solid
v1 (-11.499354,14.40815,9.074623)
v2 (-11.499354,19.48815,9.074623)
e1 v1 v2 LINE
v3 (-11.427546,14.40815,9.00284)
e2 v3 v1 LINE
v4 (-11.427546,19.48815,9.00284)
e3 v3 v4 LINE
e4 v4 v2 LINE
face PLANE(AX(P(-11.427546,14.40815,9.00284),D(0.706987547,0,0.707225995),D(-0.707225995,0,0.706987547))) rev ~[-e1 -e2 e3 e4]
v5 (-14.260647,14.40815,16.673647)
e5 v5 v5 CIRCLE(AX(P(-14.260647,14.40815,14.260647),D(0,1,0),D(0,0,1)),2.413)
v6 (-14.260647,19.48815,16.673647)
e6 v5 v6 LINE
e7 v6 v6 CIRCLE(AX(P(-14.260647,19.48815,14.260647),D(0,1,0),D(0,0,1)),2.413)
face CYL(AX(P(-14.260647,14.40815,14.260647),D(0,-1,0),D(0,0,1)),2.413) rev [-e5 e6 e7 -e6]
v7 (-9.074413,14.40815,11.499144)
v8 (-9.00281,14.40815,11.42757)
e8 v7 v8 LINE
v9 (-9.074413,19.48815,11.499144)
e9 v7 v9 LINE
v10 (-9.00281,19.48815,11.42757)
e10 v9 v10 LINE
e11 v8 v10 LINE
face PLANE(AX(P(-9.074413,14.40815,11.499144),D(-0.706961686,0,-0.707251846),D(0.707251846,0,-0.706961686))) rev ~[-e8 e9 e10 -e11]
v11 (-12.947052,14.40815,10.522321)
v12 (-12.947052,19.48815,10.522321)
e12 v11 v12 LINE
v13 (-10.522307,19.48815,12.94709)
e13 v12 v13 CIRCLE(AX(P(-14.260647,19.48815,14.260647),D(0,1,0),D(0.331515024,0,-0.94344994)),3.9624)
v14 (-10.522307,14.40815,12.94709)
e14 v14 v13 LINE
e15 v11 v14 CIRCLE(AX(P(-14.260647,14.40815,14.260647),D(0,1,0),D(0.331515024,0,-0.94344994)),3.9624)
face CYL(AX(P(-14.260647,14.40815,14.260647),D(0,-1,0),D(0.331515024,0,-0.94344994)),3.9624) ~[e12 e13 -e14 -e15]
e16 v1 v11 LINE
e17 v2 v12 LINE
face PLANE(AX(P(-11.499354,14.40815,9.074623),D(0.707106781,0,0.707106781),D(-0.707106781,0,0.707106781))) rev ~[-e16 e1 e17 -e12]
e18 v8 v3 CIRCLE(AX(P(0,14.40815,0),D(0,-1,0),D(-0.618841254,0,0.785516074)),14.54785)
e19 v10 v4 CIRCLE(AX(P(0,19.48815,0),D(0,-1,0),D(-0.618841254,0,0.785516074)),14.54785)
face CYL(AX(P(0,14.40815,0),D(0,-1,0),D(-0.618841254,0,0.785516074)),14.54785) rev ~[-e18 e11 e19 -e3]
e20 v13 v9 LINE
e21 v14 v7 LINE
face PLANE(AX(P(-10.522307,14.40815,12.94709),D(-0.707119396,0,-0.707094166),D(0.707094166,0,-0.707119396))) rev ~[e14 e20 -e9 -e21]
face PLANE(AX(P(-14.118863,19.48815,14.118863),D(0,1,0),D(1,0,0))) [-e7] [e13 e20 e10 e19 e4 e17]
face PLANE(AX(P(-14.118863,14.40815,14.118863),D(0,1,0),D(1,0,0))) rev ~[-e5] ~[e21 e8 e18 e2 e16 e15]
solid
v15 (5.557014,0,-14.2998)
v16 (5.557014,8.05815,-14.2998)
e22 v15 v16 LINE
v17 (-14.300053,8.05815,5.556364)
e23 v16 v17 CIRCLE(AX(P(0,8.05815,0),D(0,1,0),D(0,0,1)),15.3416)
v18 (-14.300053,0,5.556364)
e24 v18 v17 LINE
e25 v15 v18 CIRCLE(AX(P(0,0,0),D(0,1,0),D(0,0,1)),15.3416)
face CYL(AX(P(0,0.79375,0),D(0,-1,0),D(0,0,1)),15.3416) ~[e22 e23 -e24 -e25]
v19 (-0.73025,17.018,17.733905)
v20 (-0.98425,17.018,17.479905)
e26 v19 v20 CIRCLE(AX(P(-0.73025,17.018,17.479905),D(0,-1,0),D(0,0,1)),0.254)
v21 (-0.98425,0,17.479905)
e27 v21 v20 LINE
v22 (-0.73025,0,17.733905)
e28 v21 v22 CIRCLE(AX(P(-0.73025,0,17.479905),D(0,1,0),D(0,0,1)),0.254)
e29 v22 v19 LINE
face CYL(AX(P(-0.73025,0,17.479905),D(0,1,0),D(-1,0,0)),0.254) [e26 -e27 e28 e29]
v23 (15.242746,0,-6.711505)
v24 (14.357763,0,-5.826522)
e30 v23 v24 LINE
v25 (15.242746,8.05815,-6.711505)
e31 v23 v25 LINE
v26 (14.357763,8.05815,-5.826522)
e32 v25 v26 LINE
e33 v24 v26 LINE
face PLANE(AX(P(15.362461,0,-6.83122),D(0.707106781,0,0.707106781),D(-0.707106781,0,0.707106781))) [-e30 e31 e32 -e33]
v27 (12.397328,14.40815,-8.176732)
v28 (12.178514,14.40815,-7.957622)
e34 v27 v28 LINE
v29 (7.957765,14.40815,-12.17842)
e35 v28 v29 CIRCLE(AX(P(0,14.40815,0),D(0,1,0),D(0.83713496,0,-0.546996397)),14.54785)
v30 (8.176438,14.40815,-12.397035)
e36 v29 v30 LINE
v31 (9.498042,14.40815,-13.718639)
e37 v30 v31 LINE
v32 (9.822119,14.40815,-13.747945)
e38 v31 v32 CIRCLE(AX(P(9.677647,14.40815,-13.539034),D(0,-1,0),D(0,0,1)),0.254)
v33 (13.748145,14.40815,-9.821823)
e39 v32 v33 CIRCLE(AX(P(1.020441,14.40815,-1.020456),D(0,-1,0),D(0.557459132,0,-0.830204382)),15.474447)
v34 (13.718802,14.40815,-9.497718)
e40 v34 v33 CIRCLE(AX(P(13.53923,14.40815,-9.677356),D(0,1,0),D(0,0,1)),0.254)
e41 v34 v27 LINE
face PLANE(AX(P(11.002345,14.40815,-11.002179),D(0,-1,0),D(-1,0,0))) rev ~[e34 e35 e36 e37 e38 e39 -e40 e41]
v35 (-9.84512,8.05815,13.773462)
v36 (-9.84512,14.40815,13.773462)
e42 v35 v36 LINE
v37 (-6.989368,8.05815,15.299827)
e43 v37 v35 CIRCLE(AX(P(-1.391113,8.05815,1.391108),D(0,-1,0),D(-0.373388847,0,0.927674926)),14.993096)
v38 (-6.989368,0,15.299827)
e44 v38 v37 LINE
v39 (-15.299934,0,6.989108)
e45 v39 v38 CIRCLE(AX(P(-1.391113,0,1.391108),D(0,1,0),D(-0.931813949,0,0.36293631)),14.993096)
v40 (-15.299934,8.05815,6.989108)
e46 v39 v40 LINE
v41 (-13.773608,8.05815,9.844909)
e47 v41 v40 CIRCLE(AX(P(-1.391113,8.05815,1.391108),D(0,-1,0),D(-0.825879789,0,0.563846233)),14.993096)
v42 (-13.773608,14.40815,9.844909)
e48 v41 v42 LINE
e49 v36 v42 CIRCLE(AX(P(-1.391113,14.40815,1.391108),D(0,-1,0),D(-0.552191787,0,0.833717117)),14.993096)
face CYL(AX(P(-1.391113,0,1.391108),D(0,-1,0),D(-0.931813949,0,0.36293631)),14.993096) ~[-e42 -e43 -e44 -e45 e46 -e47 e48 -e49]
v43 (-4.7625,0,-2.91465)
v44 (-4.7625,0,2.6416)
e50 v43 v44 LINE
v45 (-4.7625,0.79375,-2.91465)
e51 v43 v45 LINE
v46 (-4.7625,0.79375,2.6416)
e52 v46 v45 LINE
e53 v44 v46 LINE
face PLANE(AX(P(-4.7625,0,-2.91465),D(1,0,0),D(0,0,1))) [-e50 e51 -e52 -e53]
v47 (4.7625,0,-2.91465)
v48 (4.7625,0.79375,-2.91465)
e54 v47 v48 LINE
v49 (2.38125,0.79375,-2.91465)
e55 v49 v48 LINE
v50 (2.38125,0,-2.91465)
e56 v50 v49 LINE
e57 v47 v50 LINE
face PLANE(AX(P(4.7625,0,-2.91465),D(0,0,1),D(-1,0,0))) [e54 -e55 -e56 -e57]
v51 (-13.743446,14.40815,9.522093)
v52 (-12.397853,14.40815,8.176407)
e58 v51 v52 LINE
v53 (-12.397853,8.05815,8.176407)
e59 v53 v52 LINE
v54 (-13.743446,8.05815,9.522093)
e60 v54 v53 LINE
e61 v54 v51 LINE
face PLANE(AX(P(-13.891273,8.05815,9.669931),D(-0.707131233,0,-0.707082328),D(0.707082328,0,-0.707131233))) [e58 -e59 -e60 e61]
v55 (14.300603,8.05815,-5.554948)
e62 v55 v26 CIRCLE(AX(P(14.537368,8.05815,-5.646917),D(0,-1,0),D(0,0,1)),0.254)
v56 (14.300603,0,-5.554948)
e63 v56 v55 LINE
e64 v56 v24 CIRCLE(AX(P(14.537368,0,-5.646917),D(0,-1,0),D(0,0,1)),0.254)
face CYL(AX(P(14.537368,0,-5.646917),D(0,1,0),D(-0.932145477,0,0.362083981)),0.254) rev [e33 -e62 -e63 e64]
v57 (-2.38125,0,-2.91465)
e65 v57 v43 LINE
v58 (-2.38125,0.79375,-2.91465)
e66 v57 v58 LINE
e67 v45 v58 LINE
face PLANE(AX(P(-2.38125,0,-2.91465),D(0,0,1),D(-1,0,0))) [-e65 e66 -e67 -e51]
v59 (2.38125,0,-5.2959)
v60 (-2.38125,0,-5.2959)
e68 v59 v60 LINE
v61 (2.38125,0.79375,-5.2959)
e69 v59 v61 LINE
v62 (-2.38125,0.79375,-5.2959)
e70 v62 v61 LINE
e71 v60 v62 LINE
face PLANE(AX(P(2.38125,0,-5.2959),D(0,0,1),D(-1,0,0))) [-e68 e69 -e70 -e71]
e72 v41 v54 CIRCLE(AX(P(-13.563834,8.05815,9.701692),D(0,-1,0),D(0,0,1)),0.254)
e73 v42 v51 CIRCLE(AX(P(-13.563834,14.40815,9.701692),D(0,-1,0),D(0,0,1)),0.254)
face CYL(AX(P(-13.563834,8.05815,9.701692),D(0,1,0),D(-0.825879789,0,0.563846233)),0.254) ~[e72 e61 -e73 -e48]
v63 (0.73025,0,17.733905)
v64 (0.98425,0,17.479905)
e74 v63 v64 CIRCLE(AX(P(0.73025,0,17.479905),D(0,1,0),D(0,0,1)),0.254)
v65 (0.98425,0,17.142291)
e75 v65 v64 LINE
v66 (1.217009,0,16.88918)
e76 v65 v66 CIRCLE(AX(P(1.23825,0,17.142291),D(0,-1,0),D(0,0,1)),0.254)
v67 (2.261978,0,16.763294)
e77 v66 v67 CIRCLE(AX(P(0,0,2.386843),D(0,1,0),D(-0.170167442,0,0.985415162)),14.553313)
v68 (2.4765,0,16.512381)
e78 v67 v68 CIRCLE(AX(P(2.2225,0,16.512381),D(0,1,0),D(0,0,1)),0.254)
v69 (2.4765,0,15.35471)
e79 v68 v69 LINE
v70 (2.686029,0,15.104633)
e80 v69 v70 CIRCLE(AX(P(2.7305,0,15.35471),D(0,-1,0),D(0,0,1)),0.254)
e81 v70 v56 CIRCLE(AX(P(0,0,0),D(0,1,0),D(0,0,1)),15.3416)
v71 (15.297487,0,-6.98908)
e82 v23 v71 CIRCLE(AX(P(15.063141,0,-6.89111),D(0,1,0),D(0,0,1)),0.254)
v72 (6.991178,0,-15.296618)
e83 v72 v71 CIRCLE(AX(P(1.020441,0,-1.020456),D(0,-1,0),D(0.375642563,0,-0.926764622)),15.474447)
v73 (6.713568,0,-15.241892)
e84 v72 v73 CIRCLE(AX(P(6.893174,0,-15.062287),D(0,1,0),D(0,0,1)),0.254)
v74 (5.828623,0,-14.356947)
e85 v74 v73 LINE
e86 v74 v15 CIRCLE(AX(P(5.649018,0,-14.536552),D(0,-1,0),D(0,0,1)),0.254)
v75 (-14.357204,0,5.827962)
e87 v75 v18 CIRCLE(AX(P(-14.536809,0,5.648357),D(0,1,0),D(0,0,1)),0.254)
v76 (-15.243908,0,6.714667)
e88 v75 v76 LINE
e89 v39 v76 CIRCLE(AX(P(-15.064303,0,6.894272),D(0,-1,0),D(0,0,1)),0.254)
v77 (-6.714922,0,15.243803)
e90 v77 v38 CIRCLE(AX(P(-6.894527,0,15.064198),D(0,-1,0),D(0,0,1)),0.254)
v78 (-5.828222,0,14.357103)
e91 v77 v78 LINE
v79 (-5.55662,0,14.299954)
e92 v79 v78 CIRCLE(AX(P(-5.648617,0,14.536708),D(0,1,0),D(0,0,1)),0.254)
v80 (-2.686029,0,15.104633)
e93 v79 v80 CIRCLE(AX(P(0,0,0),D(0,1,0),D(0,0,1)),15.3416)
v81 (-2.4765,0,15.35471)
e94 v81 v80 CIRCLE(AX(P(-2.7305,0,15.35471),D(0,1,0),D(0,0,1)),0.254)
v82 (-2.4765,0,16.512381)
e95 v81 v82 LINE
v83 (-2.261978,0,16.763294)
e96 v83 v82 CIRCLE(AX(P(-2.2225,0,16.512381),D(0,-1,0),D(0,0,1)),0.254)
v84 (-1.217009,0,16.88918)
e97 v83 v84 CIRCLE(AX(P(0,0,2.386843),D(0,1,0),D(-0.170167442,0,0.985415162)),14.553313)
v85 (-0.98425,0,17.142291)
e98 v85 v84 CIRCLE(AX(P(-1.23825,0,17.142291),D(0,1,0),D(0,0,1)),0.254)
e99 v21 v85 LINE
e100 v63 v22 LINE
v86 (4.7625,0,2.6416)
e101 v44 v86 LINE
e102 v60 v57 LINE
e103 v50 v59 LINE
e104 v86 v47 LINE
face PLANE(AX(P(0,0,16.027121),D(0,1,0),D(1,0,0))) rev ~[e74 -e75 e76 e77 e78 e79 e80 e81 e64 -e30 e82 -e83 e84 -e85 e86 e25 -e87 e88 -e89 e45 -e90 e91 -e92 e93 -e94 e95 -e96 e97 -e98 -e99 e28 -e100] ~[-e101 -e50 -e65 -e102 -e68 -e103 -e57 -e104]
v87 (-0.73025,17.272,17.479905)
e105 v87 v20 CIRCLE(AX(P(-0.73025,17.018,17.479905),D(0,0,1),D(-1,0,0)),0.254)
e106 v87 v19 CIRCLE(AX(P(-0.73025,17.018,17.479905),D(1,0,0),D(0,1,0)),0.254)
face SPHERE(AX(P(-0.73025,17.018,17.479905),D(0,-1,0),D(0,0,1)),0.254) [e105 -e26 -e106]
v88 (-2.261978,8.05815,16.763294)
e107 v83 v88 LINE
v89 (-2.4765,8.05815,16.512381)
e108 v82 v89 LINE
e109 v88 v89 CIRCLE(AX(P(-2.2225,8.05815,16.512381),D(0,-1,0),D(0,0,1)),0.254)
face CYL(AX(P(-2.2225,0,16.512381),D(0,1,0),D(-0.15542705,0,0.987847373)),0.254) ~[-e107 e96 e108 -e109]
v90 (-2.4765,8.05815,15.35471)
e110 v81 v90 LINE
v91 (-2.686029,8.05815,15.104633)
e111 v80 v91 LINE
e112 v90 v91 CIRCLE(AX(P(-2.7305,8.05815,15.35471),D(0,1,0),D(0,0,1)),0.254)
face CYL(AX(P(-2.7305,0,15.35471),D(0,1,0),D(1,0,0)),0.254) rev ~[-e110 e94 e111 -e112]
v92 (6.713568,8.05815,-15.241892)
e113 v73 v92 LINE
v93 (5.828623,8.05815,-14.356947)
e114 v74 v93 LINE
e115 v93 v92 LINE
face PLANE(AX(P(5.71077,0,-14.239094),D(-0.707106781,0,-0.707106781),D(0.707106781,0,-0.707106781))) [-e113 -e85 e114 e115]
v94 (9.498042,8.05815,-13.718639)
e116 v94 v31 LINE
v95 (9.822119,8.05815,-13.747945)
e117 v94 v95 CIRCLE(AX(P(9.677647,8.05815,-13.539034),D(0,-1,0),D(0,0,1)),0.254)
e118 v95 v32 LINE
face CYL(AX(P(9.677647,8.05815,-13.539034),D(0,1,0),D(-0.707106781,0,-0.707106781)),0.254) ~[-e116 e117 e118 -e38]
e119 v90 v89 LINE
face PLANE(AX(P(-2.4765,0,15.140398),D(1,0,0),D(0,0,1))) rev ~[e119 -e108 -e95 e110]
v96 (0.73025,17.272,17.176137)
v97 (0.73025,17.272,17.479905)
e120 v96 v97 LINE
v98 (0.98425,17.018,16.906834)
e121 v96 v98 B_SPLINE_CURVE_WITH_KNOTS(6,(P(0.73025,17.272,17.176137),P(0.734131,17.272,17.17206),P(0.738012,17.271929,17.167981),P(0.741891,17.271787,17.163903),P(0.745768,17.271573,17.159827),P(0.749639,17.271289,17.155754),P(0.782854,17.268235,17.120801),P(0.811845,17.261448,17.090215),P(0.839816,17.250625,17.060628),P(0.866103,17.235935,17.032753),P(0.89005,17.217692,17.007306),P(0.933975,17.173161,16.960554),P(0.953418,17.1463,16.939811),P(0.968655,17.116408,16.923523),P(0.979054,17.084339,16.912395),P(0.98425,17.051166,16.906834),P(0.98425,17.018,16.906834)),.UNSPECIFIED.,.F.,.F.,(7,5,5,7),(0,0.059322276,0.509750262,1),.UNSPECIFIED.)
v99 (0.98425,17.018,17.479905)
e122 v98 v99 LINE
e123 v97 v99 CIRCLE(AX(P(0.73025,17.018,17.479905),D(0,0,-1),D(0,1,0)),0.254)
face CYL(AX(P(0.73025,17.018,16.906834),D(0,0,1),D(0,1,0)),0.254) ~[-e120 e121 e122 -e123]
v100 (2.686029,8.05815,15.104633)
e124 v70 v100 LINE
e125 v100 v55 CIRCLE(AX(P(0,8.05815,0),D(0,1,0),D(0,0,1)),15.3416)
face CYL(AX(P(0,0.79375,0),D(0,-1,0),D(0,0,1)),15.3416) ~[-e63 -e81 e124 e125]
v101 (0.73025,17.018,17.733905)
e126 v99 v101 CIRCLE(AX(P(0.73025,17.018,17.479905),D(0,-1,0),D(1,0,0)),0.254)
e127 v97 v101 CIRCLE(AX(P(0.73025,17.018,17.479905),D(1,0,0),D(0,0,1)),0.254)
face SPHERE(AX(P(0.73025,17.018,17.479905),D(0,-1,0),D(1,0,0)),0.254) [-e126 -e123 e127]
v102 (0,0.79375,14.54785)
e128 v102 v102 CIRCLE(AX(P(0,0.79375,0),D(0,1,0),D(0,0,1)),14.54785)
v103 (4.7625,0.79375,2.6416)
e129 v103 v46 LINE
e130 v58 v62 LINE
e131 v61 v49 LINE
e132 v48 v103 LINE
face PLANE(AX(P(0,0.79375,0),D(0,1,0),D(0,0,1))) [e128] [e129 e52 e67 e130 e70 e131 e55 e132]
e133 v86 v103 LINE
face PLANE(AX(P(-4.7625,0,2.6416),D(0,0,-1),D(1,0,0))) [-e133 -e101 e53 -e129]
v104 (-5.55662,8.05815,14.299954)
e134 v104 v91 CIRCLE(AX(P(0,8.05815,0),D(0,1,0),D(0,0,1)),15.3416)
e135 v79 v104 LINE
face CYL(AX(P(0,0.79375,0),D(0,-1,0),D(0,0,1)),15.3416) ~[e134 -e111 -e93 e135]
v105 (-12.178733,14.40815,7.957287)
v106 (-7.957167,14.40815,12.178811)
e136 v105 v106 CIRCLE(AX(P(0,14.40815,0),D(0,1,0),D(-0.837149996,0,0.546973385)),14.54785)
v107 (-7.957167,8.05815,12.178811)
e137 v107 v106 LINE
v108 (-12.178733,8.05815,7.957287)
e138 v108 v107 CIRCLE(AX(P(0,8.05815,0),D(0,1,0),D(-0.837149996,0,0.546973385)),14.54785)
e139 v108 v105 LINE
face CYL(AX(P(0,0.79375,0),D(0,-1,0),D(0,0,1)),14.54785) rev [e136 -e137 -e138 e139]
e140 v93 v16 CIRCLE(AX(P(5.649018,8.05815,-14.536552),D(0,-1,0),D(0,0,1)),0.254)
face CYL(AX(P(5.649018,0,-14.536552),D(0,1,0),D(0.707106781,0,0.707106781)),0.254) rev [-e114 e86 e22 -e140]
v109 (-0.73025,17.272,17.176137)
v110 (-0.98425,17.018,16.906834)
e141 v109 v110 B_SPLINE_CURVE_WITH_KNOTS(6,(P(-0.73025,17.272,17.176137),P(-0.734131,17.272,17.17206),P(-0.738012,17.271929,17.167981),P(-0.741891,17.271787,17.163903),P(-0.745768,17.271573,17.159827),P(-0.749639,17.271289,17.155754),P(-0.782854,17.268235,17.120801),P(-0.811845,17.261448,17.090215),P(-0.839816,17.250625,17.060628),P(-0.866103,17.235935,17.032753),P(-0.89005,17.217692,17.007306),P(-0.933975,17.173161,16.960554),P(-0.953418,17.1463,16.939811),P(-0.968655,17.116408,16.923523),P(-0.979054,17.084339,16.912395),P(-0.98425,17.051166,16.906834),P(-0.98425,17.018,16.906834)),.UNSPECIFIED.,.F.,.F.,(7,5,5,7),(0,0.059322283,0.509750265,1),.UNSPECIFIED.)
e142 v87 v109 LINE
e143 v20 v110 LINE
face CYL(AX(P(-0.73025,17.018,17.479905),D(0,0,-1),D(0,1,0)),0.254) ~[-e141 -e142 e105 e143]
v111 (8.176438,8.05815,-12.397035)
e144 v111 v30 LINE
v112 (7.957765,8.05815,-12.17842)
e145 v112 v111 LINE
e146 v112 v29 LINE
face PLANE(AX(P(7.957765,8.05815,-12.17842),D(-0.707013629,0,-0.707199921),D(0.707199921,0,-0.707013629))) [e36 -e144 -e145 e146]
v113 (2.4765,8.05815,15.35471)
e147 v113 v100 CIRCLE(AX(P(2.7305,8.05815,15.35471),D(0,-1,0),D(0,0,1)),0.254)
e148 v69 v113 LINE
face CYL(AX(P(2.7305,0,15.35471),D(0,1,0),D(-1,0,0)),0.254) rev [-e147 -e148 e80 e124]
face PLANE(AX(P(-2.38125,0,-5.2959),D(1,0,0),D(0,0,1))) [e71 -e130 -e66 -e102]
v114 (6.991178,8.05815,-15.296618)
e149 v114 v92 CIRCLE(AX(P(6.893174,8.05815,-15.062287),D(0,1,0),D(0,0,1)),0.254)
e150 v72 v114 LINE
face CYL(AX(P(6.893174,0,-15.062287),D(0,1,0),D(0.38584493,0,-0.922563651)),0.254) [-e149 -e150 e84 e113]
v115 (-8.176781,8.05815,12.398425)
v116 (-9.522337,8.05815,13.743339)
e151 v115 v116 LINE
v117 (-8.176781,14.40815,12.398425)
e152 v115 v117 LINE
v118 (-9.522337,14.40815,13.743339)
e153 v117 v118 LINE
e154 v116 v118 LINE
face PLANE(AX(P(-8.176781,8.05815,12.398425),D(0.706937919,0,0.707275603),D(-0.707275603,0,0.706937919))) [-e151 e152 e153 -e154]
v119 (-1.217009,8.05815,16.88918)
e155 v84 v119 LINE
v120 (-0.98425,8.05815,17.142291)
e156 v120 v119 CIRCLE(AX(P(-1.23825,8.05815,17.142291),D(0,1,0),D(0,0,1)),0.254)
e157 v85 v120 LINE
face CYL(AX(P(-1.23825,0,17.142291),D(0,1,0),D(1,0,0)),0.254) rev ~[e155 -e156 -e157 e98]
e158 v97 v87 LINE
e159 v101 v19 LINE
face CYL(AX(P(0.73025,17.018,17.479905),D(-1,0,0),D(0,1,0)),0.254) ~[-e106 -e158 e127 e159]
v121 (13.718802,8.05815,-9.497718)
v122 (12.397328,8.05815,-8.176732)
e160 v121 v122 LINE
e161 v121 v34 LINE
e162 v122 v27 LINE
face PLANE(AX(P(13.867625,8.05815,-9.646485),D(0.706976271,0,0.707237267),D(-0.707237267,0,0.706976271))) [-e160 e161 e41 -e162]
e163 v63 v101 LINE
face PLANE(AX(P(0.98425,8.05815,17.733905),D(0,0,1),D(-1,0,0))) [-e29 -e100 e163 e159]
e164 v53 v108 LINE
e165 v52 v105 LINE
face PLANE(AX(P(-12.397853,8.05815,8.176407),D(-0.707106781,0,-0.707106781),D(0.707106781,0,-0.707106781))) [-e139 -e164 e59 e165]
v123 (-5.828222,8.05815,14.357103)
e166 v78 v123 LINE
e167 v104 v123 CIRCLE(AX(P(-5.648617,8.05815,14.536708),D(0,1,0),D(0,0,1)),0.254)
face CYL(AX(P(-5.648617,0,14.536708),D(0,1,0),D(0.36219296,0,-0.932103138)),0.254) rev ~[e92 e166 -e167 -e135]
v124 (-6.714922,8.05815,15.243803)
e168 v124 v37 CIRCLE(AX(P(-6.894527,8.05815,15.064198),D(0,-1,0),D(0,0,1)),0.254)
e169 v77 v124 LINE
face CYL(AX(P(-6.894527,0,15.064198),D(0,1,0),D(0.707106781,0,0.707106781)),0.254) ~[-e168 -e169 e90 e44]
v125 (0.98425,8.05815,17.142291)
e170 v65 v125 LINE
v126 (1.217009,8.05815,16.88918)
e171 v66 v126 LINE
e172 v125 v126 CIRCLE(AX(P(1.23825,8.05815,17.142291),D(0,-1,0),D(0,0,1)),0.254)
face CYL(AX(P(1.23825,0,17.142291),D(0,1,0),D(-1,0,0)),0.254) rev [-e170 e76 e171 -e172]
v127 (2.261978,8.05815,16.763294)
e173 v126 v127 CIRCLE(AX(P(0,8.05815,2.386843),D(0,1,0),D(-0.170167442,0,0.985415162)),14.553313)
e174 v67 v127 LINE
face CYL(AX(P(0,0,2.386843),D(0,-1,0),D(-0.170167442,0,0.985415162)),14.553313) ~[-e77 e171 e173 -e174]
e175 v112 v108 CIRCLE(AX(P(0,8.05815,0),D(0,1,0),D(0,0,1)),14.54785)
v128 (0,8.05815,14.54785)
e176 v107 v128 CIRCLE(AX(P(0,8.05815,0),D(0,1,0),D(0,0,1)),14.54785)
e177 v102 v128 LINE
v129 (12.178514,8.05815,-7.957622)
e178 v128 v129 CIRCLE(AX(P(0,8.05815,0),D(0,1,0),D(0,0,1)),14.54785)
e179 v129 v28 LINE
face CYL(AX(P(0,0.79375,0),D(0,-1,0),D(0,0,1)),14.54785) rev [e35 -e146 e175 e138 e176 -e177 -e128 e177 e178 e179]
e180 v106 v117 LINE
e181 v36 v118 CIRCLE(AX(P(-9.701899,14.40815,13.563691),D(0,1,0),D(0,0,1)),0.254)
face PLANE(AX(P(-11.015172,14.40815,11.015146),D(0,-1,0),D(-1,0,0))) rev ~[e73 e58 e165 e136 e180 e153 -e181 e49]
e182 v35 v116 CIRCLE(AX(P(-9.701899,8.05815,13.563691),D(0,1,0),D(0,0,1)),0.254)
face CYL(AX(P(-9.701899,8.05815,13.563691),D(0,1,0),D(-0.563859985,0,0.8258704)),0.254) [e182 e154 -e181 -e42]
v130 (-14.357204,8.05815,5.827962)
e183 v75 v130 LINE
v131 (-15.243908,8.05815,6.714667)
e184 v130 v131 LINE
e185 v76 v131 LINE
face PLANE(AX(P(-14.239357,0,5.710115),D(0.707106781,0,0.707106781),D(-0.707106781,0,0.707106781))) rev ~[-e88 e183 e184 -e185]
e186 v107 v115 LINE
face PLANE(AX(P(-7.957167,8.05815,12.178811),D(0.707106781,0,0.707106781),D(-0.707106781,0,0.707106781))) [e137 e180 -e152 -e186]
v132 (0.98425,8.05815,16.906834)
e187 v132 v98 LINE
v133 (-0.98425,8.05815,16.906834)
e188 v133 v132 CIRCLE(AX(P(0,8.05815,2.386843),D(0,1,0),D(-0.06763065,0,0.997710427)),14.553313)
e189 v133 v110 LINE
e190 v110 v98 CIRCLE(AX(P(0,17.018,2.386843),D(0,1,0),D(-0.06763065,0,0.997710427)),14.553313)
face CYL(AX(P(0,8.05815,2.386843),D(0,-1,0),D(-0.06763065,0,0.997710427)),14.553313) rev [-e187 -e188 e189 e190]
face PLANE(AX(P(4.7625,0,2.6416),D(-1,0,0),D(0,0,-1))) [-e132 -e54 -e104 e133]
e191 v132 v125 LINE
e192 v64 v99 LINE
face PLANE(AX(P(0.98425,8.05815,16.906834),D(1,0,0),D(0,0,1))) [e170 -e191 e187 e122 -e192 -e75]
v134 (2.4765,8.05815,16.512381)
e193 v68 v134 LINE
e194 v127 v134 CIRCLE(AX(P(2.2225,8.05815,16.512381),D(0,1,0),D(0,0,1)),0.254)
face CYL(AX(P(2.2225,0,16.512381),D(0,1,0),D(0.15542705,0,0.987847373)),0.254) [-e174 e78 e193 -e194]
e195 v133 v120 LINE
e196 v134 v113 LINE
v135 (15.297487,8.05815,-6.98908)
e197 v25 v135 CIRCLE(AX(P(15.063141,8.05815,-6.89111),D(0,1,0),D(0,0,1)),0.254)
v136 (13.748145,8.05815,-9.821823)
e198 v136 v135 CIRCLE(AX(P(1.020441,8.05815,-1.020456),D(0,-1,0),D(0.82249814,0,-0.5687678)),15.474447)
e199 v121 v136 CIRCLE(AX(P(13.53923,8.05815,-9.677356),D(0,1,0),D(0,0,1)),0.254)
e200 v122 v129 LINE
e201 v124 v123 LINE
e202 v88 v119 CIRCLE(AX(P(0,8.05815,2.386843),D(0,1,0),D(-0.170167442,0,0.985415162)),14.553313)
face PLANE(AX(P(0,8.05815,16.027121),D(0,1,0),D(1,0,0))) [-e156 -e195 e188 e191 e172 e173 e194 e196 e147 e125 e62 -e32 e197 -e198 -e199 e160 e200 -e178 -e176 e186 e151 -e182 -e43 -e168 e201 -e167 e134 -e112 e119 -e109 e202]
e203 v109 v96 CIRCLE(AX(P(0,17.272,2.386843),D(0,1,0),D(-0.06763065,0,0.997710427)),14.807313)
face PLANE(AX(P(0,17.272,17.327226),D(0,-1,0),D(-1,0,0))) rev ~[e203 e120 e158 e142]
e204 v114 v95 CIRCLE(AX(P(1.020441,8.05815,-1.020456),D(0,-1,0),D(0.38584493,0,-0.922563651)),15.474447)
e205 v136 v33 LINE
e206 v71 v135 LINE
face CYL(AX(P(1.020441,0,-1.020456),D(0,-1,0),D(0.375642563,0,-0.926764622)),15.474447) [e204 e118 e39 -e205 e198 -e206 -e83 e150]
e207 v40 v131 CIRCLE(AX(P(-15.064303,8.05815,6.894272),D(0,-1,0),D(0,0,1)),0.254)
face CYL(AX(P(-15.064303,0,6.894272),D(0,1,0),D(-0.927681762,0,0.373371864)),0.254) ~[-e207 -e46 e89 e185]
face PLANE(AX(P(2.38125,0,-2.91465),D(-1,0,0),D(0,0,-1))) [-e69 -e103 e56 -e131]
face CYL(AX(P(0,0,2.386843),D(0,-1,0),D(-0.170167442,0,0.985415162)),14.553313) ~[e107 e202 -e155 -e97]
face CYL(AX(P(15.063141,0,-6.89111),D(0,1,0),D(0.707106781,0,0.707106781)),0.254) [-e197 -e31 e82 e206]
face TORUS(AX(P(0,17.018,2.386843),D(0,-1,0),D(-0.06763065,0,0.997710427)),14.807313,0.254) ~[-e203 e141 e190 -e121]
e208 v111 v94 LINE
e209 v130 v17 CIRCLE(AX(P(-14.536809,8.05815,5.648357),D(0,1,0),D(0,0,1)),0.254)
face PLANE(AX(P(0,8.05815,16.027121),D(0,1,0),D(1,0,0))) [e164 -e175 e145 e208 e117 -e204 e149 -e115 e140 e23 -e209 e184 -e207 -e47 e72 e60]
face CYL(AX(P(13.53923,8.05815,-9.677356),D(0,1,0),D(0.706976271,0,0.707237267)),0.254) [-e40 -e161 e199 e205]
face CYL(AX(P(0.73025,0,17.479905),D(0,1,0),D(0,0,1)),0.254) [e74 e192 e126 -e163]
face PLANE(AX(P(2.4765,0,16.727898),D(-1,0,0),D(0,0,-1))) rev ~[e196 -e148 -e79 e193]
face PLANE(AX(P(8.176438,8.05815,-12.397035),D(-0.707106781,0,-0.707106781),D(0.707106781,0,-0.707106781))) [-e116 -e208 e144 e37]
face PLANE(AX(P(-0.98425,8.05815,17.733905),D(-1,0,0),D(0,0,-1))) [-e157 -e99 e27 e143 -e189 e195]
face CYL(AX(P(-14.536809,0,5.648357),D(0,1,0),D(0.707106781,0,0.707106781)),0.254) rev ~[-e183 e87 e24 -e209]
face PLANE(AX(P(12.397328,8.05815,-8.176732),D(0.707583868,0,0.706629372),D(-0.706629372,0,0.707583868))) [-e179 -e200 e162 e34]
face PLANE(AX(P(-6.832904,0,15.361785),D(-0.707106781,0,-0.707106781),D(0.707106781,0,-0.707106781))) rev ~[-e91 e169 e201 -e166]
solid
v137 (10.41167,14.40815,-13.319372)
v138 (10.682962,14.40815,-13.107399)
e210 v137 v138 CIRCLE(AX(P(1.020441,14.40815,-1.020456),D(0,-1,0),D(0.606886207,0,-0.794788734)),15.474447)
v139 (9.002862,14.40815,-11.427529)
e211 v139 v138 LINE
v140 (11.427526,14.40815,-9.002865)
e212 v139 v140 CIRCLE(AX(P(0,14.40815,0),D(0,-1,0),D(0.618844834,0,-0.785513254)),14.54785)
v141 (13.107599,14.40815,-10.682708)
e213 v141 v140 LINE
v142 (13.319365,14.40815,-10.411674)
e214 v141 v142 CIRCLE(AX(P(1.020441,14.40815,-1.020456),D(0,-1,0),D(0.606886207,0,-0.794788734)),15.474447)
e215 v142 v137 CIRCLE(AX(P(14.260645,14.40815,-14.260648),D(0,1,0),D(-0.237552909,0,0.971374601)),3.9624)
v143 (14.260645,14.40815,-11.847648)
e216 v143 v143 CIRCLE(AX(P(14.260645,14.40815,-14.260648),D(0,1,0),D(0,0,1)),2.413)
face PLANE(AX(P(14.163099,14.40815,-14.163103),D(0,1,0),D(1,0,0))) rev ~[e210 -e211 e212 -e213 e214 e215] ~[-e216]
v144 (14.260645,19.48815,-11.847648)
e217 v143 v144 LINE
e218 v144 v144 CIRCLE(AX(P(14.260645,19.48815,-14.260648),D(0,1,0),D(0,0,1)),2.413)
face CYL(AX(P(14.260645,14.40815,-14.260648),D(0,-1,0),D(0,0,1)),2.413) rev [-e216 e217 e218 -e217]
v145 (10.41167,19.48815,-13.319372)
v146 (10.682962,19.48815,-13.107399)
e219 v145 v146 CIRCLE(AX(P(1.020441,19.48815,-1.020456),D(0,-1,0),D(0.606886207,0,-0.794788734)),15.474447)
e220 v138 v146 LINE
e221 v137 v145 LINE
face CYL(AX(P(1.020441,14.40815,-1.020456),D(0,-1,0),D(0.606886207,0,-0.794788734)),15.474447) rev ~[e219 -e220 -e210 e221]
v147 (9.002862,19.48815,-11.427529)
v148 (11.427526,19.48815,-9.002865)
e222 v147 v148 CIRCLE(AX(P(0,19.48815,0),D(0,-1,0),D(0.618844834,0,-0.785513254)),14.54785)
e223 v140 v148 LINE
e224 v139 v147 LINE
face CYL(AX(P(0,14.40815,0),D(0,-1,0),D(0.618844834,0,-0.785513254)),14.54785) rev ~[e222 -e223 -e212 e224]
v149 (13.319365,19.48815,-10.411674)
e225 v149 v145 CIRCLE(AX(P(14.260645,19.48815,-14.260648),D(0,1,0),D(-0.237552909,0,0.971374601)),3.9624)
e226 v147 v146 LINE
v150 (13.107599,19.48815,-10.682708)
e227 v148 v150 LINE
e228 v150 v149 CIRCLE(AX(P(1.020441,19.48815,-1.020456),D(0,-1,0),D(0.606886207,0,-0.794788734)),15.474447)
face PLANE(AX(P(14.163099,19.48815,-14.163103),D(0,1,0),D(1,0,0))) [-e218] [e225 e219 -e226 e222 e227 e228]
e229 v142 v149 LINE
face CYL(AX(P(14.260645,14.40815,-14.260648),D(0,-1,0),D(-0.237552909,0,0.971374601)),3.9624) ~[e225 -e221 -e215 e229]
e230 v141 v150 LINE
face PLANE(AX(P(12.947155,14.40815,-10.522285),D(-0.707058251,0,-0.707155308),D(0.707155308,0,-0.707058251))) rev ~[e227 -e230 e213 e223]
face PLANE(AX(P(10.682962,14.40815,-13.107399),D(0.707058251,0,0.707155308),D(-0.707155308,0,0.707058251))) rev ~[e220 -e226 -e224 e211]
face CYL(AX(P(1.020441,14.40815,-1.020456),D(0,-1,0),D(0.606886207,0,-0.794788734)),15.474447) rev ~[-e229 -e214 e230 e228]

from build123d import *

# Parameters (mm, degrees)
SKETCH1_R             = 15.341599999999996
BOSS_EXTRUDE1_DEPTH   = 0.79375
SKETCH2_R             = 15.341599999999996
SKETCH2_R_2           = 14.547849999999999
BOSS_EXTRUDE2_DEPTH   = 7.264399999999999
CUT_EXTRUDE1_DEPTH    = 2.54
BOSS_EXTRUDE3_DEPTH   = 8.05815
BOSS_EXTRUDE4_START   = -8.05815
BOSS_EXTRUDE4_DEPTH   = 8.05815
BOSS_EXTRUDE5_DEPTH   = 9.21385
BOSS_EXTRUDE6_DEPTH   = 8.05815
BOSS_EXTRUDE7_DEPTH   = 6.35
SKETCH8_R             = 2.4130000000000007
BOSS_EXTRUDE9_DEPTH   = 5.08
BOSS_EXTRUDE9_2_DEPTH = 5.08
FILLET2_R             = 0.254
FILLET3_R             = 0.254
FILLET4_R             = 0.254
FILLET5_R             = 0.254


with BuildPart() as part:
    # Sketch1 → Boss-Extrude1 (new body)
    with BuildSketch(Plane(origin=(0, 0, 0), x_dir=(1, 0, 0), z_dir=(0, 1, 0))):
        Circle(SKETCH1_R)
    extrude(amount=BOSS_EXTRUDE1_DEPTH)

    # Sketch2 → Boss-Extrude2 (add)
    with BuildSketch(Plane(origin=(0, 0.79375, 0), x_dir=(1, 0, 0), z_dir=(0, 1, 0))):
        Circle(SKETCH2_R)
        Circle(SKETCH2_R_2, mode=Mode.SUBTRACT)
    extrude(amount=BOSS_EXTRUDE2_DEPTH)

    # Sketch3 → Cut-Extrude1 (cut)
    with BuildSketch(Plane.XZ):
        Polygon((-4.762499999999998, 2.6415999999999973), (4.762500000000002, 2.641599999999999), (4.762500000000002, -2.914650000000002), (2.38125, -2.9146500000000013), (2.3812499999999996, -5.295900000000002), (-2.3812499999999996, -5.295900000000002), (-2.38125, -2.914650000000002), (-4.762499999999998, -2.914650000000002), align=None)
    extrude(amount=-CUT_EXTRUDE1_DEPTH, mode=Mode.SUBTRACT)

    # Sketch4 → Boss-Extrude3 (add)
    with BuildSketch(Plane(origin=(0, 0, 0), x_dir=(-1, 0, 0), z_dir=(0, -1, 0))):
        with BuildLine():
            Line((2.4765, -15.140397561160668), (2.4765, -16.727897561160667))
            ThreePointArc((2.4765, -16.727897561160667), (8.9e-16, -16.94015526812513), (-2.4765, -16.727897561160667))
            Line((-2.4765, -16.727897561160667), (-2.4765, -15.140397561160668))
            ThreePointArc((-2.4765, -15.140397561160668), (9.4e-16, -15.341599999999993), (2.4765, -15.140397561160668))
        make_face()
    extrude(amount=-BOSS_EXTRUDE3_DEPTH)

    # Sketch5 → Boss-Extrude4 (add)
    with BuildSketch(Plane(origin=(0, 8.058149999999998, 0), x_dir=(1, 0, 0), z_dir=(0, 1, 0)).offset(BOSS_EXTRUDE4_START)):
        with BuildLine():
            Line((-0.9842499999999998, -17.733905268125135), (-0.9842499999999998, -16.906834389214747))
            ThreePointArc((-0.9842499999999998, -16.906834389214747), (8.9e-16, -16.94015526812513), (0.9842499999999998, -16.906834389214747))
            Line((0.9842499999999998, -16.906834389214747), (0.9842499999999998, -17.733905268125135))
            Line((0.9842499999999998, -17.733905268125135), (-0.9842499999999998, -17.733905268125135))
        make_face()
    extrude(amount=BOSS_EXTRUDE4_DEPTH)

    # Sketch5<2> → Boss-Extrude5 (add)
    with BuildSketch(Plane(origin=(0, 8.058149999999998, 0), x_dir=(1, 0, 0), z_dir=(0, 1, 0))):
        with BuildLine():
            Line((-0.9842499999999998, -17.733905268125135), (-0.9842499999999998, -16.906834389214747))
            ThreePointArc((-0.9842499999999998, -16.906834389214747), (8.9e-16, -16.94015526812513), (0.9842499999999998, -16.906834389214747))
            Line((0.9842499999999998, -16.906834389214747), (0.9842499999999998, -17.733905268125135))
            Line((0.9842499999999998, -17.733905268125135), (-0.9842499999999998, -17.733905268125135))
        make_face()
    extrude(amount=BOSS_EXTRUDE5_DEPTH)

    # Sketch6 → Boss-Extrude6 (add)
    with BuildSketch(Plane.XZ):
        with BuildLine():
            Line((-14.239356652921419, 5.7101149437557215), (-15.361888668055064, 6.832646958889366))
            ThreePointArc((-15.361888668055064, 6.832646958889366), (-11.992928475384156, 11.99273189026442), (-6.832904471189303, 15.361785400515926))
            Line((-6.832904471189303, 15.361785400515926), (-5.710372456055659, 14.239253385382282))
            ThreePointArc((-5.710372456055659, 14.239253385382282), (-10.848247486091923, 10.848051301524158), (-14.239356652921419, 5.7101149437557215))
        make_face()
        with BuildLine():
            Line((5.710770125537013, -14.239093901413598), (6.833302140670656, -15.36162591654724))
            ThreePointArc((6.833302140670656, -15.36162591654724), (11.963327436785288, -11.961742370000145), (15.362460815020862, -6.831219984723725))
            Line((15.362460815020862, -6.831219984723725), (14.239928799887219, -5.7086879695900805))
            ThreePointArc((14.239928799887219, -5.7086879695900805), (10.84894249425506, -10.847356236260815), (5.710770125537013, -14.239093901413598))
        make_face()
    extrude(amount=-BOSS_EXTRUDE6_DEPTH)

    # Sketch7 → Boss-Extrude7 (add)
    with BuildSketch(Plane(origin=(0, 8.058149999999998, 0), x_dir=(1, 0, 0), z_dir=(0, 1, 0))):
        with BuildLine():
            Line((-12.397852642860798, -8.176406827123534), (-12.178732573013406, -7.9572867572761385))
            ThreePointArc((-12.178732573013406, -7.9572867572761385), (-10.286832671216615, -10.286934101902759), (-7.957166672199454, -12.178811032828216))
            Line((-7.957166672199454, -12.178811032828216), (-8.176781042381135, -12.398425403009899))
            Line((-8.176781042381135, -12.398425403009899), (-9.67017727909579, -13.891108627568865))
            ThreePointArc((-9.67017727909579, -13.891108627568865), (-11.992935026527139, -11.992725338998914), (-13.89127343793116, -9.669930914310832))
            Line((-13.89127343793116, -9.669930914310832), (-12.397852642860798, -8.176406827123534))
        make_face()
        with BuildLine():
            Line((12.397328282013987, 8.176731564050892), (12.178513827182408, 7.957621540612922))
            ThreePointArc((12.178513827182408, 7.957621540612922), (10.286944170684611, 10.286822602325632), (7.957765463331677, 12.178419784730101))
            Line((7.957765463331677, 12.178419784730101), (8.176438491355439, 12.397035209318538))
            Line((8.176438491355439, 12.397035209318538), (9.646812923187438, 13.867409641150536))
            ThreePointArc((9.646812923187438, 13.867409641150536), (11.962673318277615, 11.962396545053053), (13.867624676203395, 9.646485365886878))
            Line((13.867624676203395, 9.646485365886878), (12.397328282013987, 8.176731564050892))
        make_face()
    extrude(amount=BOSS_EXTRUDE7_DEPTH)

    # Fillet2
    fillet2_edges = [part.edges().sort_by_distance(p)[0] for p in [
        (-2.4765, 4.029075, 15.140397561160668),
        (-2.4765, 4.029075, 16.727897561160667),
        (-0.98425, 4.029074999999998, 16.90683438921475),
        (-0.9842499999999998, 8.635999999999997, 17.733905268125135),
        (0.9842499999999998, 8.635999999999997, 17.733905268125135),
        (0.9842500000000001, 4.029074999999998, 16.90683438921475),
        (2.4765, 4.029075, 16.727897561160667),
        (2.4765, 4.029075, 15.140397561160668),
    ]]
    fillet(fillet2_edges, radius=FILLET2_R)

    # Fillet3
    fillet3_edges = [part.edges().sort_by_distance(p)[0] for p in [
        (-13.891273437931162, 11.233149999999998, 9.669930914310832),
        (-15.361888668055066, 4.029075, 6.832646958889367),
        (-14.23935665292142, 4.029075, 5.7101149437557215),
        (-9.670177279095792, 11.233149999999998, 13.891108627568865),
        (-6.832904471189303, 4.029075, 15.361785400515927),
        (-5.710372456055659, 4.029075, 14.239253385382284),
    ]]
    fillet(fillet3_edges, radius=FILLET3_R)

    # Fillet4
    fillet4_edges = [part.edges().sort_by_distance(p)[0] for p in [
        (14.239928799887219, 4.029075, -5.7086879695900805),
        (15.362460815020864, 4.029075, -6.831219984723724),
        (13.867624676203395, 11.233149999999998, -9.646485365886878),
        (9.646812923187438, 11.233149999999998, -13.867409641150537),
        (6.833302140670657, 4.029075, -15.36162591654724),
        (5.710770125537014, 4.029075, -14.239093901413598),
    ]]
    fillet(fillet4_edges, radius=FILLET4_R)

    # Fillet5
    fillet5_edges = [part.edges().sort_by_distance(p)[0] for p in [
        (1.4e-16, 17.272, 16.94015526812513),
        (0.9842499999999998, 17.272, 17.19336982866994),
        (0.9098551224213829, 17.272, 17.659510390546515),
        (0, 17.272, 17.733905268125135),
        (-0.9098551224213829, 17.272, 17.659510390546515),
        (-0.9842499999999998, 17.272, 17.19336982866994),
    ]]
    fillet(fillet5_edges, radius=FILLET5_R)


with BuildPart() as body_2:
    # Sketch8 → Boss-Extrude9 (new body)
    with BuildSketch(Plane(origin=(0, 14.408149999999997, 0), x_dir=(1, 0, 0), z_dir=(0, 1, 0))):
        with BuildLine():
            ThreePointArc((9.002861818252532, 11.427528985040922), (10.286881765415915, 10.286885007953241), (11.427526147240574, 9.002865420333293))
            Line((11.427526147240576, 9.002865420333293), (13.107599344983733, 10.682708026757702))
            ThreePointArc((13.10759934498373, 10.682708026757698), (13.214235464329633, 10.547779215134643), (13.319365450394756, 10.41167362309261))
            ThreePointArc((13.319365450394747, 10.4116736230926), (17.062486245072215, 17.062487014989735), (10.41166954987871, 13.31937208964741))
            ThreePointArc((10.411669549878741, 13.31937208964743), (10.547905513333946, 13.214140047154249), (10.682962412057378, 13.107398983766892))
            Line((10.682962412057384, 13.107398983766894), (9.002861818252532, 11.427528985040922))
        make_face()
        with Locations((14.260645098988977, 14.26064834152637)):
            Circle(SKETCH8_R, mode=Mode.SUBTRACT)
    extrude(amount=BOSS_EXTRUDE9_DEPTH)


with BuildPart() as body_3:
    # Sketch8 → Boss-Extrude9 2 (new body)
    with BuildSketch(Plane(origin=(0, 14.408149999999997, 0), x_dir=(1, 0, 0), z_dir=(0, 1, 0))):
        with BuildLine():
            Line((-11.427546404588306, -9.002839707196882), (-11.499354003559198, -9.074623095484117))
            Line((-11.499354003559198, -9.074623095484117), (-12.947051587537082, -10.522320679462))
            ThreePointArc((-12.947051587537098, -10.522320679461972), (-17.062500956215068, -17.06247230377446), (-10.522307246446418, -12.947089816829683))
            Line((-10.522307246446541, -12.947089816829621), (-9.074412769810136, -11.499143677885405))
            Line((-9.074412769810136, -11.499143677885405), (-9.002809733874312, -11.427570018081607))
            ThreePointArc((-9.002809733874315, -11.427570018081608), (-10.286869895951533, -10.286896877400084), (-11.427546404588306, -9.002839707196884))
        make_face()
        with Locations((-14.260646720257784, -14.260646720257842)):
            Circle(SKETCH8_R, mode=Mode.SUBTRACT)
    extrude(amount=BOSS_EXTRUDE9_2_DEPTH)


solid = Compound([part.part, body_2.part, body_3.part])
